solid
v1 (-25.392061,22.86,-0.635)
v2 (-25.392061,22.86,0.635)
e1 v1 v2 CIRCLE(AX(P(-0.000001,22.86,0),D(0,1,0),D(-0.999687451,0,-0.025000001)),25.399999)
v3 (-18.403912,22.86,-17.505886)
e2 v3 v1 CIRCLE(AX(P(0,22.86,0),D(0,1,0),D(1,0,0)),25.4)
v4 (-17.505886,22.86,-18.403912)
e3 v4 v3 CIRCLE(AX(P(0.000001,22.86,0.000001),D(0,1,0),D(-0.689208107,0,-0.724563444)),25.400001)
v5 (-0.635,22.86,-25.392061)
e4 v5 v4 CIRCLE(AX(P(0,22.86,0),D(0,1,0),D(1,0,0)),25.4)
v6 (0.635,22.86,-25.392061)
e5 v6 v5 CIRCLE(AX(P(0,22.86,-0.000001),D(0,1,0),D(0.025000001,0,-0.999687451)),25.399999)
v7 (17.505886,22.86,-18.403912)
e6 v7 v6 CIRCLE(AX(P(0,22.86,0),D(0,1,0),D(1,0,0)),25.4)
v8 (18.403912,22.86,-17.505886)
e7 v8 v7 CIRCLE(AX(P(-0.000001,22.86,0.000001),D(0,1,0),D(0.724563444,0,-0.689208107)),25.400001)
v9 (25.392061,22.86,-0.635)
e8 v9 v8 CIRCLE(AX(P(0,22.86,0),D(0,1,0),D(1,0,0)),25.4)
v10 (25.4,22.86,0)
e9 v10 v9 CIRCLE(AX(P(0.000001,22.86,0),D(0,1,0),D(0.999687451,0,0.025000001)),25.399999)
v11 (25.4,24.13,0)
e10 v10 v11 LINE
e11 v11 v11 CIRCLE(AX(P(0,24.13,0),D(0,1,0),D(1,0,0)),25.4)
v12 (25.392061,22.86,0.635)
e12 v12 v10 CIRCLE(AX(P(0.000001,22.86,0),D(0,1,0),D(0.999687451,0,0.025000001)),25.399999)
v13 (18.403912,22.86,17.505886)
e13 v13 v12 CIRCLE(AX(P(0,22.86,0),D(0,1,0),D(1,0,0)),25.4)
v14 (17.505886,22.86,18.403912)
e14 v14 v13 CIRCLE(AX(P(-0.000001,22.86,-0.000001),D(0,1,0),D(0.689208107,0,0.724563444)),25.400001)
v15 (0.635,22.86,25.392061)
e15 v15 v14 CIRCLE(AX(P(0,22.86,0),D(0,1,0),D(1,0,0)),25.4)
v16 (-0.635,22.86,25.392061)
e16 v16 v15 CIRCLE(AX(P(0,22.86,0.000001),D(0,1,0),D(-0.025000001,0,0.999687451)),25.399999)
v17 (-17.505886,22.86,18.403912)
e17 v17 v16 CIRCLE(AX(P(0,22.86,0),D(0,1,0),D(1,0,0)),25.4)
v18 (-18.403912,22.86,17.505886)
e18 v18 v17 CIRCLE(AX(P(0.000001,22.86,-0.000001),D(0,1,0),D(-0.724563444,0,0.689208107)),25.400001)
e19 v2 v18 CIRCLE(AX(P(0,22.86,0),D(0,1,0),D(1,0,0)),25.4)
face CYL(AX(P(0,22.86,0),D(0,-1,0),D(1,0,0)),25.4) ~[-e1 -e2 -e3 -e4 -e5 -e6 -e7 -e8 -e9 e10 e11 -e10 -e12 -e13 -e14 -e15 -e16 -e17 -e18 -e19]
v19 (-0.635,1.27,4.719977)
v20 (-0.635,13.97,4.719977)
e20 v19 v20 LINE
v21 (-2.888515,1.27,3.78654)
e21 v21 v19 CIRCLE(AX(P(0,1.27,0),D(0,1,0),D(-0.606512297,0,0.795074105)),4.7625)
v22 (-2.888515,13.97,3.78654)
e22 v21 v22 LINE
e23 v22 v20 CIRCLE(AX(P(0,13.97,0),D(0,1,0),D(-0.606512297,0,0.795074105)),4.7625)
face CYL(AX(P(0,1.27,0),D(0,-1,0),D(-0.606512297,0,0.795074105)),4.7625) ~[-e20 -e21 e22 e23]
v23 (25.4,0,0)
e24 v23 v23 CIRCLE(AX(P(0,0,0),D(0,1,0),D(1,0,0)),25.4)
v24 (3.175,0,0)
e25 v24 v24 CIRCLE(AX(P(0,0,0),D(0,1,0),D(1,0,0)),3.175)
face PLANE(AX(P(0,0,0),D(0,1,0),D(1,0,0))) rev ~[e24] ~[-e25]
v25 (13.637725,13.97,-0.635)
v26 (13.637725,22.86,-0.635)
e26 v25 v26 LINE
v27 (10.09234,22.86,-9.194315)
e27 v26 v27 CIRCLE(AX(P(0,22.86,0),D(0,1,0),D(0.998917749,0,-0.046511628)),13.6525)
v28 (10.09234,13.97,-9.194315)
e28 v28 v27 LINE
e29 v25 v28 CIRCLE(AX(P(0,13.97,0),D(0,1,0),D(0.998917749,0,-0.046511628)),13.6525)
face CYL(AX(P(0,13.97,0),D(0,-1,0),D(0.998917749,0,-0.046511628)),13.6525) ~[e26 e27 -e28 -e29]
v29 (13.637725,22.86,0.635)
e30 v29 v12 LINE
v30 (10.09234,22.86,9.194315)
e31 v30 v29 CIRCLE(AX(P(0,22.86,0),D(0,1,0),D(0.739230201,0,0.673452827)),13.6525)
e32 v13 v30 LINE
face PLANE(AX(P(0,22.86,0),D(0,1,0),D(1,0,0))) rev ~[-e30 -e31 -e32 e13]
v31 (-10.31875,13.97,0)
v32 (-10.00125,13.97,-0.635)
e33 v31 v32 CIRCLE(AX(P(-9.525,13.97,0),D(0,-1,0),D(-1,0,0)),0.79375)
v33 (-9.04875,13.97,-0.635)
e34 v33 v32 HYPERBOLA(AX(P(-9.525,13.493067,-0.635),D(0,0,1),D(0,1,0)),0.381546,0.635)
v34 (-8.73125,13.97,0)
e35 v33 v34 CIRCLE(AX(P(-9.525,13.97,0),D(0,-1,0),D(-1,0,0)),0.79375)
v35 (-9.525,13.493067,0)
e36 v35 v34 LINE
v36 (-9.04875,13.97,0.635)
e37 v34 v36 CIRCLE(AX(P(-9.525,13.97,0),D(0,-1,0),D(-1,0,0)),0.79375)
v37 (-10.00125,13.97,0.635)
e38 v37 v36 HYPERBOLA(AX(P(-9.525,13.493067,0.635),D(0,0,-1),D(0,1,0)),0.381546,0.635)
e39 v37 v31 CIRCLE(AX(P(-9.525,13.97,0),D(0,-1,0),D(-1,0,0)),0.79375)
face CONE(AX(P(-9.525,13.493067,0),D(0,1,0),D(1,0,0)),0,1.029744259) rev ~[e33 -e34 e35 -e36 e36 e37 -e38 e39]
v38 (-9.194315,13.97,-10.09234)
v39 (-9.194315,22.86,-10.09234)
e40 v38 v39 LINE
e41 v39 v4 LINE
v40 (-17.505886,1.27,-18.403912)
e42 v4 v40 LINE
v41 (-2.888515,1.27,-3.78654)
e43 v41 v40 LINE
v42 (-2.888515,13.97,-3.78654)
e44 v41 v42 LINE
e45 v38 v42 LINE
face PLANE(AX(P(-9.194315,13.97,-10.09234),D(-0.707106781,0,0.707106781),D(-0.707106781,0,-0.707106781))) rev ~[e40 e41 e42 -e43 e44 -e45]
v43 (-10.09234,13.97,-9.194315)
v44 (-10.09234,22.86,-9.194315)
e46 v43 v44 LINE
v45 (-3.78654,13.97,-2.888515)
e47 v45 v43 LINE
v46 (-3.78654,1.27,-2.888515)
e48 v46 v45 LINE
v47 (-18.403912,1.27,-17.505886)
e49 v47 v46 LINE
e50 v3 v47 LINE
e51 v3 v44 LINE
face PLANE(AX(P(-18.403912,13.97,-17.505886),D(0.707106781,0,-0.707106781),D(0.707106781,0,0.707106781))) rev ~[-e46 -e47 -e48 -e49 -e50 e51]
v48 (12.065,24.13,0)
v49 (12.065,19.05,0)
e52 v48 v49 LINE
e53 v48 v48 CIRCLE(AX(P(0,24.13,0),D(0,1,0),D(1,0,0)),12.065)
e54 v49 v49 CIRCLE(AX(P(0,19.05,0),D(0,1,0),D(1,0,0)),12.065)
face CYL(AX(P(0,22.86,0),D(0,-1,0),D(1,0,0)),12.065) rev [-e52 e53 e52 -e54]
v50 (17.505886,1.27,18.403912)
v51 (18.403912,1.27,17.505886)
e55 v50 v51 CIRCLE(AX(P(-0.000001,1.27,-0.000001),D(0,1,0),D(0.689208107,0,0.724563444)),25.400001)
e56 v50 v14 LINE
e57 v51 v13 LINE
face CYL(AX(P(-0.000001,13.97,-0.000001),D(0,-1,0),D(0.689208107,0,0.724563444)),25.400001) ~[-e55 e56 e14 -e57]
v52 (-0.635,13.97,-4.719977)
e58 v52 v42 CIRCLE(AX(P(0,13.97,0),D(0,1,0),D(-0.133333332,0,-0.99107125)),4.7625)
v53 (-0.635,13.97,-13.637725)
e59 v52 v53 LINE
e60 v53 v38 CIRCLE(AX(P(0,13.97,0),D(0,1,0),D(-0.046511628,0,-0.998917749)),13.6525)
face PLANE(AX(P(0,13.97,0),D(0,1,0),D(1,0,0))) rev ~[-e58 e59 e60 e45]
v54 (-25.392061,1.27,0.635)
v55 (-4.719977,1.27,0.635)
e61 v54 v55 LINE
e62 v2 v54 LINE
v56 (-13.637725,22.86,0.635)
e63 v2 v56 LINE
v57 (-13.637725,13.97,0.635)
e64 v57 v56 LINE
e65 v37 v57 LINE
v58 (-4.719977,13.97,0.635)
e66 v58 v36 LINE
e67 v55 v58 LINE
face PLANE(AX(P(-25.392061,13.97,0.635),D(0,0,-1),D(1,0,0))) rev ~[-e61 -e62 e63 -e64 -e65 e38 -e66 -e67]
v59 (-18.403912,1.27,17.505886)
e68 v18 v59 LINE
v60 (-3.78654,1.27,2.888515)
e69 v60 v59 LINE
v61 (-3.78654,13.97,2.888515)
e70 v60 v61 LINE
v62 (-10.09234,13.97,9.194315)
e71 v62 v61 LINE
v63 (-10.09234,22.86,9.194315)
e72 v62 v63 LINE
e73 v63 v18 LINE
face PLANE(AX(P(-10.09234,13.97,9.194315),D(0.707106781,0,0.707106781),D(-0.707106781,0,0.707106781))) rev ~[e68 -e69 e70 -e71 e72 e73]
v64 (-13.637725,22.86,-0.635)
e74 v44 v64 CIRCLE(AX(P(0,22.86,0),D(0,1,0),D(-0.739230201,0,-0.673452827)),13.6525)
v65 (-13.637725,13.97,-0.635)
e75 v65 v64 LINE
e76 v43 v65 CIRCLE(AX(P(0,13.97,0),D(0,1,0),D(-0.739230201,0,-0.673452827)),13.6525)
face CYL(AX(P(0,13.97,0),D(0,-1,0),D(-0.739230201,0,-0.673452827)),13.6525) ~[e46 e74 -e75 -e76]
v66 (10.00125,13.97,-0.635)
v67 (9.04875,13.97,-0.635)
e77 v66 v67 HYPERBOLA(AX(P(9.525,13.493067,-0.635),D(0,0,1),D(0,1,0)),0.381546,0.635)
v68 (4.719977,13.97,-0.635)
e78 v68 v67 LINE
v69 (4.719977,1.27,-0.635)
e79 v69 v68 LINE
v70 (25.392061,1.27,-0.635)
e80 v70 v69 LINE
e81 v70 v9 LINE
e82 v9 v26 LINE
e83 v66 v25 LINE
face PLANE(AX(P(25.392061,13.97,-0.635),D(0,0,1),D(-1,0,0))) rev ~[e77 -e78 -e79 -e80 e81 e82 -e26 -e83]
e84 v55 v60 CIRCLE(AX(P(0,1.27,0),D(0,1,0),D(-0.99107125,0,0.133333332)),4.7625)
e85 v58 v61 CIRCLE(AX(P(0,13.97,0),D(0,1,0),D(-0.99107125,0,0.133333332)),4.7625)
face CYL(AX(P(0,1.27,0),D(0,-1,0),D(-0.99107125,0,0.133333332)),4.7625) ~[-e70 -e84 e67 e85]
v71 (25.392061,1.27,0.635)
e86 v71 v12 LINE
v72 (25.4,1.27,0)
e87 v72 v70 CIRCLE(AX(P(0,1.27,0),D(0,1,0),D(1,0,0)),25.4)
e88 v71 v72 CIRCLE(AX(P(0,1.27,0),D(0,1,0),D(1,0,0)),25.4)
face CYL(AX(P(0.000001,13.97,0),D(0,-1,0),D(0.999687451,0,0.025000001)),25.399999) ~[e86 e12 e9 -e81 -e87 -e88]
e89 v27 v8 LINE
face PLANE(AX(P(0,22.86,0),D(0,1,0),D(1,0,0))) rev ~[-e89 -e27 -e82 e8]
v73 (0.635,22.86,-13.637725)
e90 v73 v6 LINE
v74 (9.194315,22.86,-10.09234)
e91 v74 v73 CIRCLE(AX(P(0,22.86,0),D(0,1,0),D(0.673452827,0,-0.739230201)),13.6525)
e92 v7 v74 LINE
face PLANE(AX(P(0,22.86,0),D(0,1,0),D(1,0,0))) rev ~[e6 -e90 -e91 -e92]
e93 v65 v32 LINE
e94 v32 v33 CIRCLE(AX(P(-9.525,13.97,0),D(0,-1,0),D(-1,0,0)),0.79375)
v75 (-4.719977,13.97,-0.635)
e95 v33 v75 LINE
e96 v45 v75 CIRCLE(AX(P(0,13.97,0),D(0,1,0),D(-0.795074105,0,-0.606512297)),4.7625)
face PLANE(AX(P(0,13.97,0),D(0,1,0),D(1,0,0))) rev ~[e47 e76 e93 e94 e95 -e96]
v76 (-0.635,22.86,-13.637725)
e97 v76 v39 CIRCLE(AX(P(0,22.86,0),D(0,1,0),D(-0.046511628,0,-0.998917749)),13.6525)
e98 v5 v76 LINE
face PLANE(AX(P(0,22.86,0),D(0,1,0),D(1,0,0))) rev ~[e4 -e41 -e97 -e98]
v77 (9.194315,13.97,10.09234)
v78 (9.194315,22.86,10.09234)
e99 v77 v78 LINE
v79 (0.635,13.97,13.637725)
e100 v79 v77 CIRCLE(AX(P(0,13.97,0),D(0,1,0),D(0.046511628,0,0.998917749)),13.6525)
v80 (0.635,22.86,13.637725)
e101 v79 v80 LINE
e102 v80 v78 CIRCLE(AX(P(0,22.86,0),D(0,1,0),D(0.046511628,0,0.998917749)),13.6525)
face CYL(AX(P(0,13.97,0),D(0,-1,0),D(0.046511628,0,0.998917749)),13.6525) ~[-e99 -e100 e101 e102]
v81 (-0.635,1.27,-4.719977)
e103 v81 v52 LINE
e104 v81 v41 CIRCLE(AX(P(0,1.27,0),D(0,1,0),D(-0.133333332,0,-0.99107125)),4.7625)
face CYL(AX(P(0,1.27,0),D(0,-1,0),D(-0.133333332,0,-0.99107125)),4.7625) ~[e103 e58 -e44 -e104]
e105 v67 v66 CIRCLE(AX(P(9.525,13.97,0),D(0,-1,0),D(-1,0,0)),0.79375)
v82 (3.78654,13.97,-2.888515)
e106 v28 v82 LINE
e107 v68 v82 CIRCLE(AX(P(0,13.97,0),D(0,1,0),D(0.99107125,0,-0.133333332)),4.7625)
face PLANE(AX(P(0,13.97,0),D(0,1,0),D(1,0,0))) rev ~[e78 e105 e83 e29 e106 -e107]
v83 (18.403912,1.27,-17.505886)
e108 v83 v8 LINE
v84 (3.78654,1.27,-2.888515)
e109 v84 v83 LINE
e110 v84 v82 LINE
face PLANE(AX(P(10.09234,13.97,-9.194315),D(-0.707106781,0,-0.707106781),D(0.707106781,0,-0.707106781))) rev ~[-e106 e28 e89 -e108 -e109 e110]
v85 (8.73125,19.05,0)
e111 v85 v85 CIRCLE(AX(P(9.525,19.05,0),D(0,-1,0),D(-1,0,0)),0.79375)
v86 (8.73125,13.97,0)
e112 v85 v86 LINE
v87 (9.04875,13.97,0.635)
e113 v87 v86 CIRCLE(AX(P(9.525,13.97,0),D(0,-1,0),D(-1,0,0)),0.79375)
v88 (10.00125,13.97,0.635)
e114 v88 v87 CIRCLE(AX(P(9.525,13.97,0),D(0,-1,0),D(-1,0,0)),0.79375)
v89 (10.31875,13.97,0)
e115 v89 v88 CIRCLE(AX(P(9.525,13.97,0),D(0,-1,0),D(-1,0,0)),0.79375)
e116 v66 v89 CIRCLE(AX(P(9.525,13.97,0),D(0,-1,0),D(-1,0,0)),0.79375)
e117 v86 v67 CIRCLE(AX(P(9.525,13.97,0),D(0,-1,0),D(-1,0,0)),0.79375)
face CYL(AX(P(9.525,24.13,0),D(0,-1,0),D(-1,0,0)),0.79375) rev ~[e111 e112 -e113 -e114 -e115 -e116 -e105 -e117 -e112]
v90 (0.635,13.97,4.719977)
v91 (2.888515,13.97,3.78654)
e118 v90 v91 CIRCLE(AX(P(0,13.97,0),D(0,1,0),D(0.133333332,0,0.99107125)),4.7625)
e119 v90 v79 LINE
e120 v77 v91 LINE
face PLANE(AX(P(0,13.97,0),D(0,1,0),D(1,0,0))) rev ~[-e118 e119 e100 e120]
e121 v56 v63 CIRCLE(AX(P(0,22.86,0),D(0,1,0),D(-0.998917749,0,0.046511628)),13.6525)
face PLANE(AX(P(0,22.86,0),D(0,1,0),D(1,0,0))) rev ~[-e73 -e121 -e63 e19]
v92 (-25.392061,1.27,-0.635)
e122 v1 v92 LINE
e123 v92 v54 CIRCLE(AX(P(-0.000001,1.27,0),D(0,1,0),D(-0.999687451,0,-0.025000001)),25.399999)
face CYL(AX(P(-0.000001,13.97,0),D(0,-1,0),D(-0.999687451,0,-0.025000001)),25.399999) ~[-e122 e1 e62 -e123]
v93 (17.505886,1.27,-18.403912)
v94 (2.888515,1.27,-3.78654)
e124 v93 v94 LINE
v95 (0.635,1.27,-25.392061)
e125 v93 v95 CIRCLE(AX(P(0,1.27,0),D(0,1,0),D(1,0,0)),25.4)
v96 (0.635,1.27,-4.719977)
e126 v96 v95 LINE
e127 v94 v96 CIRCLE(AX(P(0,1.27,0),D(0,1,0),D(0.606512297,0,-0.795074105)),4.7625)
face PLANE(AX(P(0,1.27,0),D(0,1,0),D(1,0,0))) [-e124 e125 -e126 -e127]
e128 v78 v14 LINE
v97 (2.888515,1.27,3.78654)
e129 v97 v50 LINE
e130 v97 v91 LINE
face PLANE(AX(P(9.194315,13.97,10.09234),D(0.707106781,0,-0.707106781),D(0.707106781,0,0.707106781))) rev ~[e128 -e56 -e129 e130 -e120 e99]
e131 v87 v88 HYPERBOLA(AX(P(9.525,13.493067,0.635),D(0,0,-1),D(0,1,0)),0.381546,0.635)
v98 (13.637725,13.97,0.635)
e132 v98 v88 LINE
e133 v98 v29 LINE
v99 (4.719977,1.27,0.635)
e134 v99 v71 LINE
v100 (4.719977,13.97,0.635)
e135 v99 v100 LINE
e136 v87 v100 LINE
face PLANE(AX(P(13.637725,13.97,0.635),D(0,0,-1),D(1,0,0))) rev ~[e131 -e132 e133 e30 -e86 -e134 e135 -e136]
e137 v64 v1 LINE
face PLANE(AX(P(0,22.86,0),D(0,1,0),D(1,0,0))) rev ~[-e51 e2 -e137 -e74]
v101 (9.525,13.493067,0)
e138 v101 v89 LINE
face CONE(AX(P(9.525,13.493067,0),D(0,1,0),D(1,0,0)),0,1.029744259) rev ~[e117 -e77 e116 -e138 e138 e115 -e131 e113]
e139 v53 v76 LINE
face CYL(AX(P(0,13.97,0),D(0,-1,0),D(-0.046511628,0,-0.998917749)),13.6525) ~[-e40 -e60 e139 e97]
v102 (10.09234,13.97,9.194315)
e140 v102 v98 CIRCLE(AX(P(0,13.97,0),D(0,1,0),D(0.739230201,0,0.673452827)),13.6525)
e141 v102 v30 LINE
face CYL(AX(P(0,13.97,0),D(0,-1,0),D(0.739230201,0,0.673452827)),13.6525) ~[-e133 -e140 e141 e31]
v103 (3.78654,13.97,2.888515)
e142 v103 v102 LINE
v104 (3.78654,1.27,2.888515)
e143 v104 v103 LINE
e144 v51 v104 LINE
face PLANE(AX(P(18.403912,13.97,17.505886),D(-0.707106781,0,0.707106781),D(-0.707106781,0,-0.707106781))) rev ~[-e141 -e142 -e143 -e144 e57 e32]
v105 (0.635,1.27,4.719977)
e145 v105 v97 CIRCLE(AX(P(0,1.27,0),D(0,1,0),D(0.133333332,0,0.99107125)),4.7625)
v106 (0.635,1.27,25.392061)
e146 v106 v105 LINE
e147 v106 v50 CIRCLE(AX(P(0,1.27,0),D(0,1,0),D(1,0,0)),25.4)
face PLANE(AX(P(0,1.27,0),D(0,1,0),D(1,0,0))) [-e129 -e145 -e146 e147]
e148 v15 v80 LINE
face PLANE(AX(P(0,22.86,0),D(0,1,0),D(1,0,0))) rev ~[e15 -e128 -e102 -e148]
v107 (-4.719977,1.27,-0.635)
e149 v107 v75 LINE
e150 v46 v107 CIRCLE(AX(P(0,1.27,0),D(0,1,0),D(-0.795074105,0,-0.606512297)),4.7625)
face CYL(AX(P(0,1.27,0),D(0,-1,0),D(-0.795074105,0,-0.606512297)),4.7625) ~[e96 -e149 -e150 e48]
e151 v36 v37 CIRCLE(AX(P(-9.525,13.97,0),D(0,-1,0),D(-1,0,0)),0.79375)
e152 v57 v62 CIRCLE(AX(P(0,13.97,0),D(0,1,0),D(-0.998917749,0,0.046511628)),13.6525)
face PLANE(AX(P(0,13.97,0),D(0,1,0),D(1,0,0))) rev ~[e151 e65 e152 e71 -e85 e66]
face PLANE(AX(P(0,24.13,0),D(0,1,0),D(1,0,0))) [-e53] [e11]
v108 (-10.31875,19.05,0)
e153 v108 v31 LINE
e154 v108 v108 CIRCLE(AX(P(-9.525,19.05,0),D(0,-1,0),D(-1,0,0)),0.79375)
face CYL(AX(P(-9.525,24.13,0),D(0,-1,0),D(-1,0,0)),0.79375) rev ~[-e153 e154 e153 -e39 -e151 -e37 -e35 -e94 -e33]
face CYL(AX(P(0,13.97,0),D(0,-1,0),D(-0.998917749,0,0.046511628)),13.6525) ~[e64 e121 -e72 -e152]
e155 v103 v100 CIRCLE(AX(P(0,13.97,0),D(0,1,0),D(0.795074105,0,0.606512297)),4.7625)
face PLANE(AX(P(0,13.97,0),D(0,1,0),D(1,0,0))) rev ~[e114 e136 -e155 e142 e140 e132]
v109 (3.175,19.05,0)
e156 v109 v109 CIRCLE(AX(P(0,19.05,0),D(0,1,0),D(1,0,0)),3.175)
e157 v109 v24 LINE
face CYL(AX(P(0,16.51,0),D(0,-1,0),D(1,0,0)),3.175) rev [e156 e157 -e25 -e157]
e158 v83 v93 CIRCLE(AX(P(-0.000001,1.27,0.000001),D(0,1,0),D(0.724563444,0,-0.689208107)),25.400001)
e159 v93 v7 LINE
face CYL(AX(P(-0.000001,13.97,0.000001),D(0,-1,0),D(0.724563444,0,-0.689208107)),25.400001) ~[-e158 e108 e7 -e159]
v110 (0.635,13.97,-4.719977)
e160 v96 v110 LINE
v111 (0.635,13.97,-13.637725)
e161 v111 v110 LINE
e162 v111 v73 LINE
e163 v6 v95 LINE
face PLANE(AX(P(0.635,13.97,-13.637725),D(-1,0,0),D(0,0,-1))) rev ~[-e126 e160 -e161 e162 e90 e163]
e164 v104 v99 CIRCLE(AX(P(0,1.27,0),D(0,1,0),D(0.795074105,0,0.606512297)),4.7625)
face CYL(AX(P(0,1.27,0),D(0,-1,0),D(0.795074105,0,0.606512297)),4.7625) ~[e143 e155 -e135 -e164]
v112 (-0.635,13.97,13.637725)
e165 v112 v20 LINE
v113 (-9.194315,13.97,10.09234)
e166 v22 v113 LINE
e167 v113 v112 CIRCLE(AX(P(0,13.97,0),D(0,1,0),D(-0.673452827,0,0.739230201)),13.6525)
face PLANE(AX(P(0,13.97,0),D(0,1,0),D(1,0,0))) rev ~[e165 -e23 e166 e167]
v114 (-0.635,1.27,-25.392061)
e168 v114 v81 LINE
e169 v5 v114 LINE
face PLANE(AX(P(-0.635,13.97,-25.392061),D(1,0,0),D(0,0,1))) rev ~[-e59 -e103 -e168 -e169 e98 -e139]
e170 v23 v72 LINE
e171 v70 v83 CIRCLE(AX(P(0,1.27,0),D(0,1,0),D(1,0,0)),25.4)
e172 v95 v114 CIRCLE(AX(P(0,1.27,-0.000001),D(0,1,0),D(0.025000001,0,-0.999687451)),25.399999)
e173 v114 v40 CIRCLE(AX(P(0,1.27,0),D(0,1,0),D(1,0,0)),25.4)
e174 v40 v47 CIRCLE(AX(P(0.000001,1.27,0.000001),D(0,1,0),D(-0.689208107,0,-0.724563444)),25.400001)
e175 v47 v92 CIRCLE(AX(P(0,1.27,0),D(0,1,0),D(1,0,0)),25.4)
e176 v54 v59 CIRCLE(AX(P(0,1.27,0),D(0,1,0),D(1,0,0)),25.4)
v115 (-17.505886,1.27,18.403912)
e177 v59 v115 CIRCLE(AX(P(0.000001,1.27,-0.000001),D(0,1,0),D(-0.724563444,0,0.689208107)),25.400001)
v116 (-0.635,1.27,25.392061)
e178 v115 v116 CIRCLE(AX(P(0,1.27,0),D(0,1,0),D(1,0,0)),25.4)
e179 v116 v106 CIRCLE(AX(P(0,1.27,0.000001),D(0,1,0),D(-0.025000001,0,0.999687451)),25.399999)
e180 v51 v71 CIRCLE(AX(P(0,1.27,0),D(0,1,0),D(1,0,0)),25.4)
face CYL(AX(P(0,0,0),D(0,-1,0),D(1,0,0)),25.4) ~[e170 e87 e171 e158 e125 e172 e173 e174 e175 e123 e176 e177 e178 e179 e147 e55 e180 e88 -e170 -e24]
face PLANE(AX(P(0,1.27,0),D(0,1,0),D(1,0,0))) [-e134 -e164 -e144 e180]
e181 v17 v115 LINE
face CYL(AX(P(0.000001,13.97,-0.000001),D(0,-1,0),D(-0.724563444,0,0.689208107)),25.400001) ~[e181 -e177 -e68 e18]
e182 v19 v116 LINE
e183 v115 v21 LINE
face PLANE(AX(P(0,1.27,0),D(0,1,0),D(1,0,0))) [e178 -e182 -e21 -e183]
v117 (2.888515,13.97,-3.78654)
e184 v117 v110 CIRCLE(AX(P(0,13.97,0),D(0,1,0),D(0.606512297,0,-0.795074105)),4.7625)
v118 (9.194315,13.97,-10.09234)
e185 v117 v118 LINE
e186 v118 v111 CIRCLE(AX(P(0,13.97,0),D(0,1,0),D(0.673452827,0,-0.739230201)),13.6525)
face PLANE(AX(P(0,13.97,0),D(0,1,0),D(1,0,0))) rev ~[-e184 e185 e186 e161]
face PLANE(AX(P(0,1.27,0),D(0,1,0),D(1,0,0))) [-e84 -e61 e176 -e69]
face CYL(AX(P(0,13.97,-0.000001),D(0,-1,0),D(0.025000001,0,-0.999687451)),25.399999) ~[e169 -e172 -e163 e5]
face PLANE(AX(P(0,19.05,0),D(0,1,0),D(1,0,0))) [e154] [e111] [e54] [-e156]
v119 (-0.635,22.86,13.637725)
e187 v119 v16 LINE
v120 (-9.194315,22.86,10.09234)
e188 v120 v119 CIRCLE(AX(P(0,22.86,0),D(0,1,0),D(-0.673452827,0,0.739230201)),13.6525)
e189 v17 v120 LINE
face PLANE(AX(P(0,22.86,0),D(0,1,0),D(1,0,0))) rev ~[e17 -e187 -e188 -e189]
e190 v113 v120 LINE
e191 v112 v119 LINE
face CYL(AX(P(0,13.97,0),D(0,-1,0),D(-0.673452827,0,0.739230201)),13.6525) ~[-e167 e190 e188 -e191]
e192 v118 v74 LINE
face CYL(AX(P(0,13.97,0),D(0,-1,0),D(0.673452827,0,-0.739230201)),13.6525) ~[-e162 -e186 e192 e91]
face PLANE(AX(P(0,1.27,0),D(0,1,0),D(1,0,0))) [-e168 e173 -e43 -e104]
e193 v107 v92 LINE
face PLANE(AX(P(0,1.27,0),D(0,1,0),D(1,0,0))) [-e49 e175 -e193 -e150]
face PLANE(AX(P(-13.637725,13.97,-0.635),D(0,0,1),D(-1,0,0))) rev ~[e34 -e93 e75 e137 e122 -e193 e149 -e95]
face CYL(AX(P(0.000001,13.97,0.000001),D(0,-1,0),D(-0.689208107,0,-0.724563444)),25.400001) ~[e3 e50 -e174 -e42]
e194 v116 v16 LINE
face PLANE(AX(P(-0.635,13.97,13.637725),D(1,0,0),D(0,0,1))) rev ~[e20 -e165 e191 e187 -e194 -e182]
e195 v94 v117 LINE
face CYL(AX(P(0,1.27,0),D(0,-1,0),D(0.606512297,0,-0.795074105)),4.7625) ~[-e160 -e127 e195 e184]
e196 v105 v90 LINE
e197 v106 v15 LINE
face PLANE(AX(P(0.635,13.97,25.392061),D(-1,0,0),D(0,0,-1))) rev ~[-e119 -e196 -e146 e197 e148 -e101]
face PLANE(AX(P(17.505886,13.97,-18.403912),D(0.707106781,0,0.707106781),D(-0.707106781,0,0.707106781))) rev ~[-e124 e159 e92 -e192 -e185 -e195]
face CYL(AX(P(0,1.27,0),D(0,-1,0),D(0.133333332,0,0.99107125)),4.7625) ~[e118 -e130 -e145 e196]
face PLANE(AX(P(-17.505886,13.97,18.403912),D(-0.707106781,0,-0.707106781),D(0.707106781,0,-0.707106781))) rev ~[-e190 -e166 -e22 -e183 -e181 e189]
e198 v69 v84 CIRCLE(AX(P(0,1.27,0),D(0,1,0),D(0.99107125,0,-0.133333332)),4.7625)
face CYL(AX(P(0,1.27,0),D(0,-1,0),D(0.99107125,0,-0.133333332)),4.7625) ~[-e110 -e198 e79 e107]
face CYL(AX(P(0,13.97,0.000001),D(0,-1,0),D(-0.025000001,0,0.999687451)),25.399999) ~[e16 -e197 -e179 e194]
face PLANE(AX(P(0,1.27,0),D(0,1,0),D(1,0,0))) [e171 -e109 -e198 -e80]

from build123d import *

# Parameters (mm, degrees)
SKETCH1_R                          = 25.4
SKETCH1_R_2                        = 3.175
BOSS_EXTRUDE1_DEPTH                = 1.27
SKETCH2_R                          = 3.175
BOSS_EXTRUDE4_DEPTH                = 12.7
SKETCH5_R                          = 12.065
SKETCH5_R_2                        = 3.175
BOSS_EXTRUDE6_DEPTH                = 2.54
SKETCH9_R                          = 12.065
SKETCH9_R_2                        = 3.175
BOSS_EXTRUDE11_DEPTH               = 2.54
SKETCH5_4_R                        = 12.065
BOSS_EXTRUDE7_DEPTH                = 8.89
SKETCH6_R                          = 25.4
SKETCH6_R_2                        = 12.065
BOSS_EXTRUDE8_DEPTH                = 1.27
F_1_16_0_0625_DIAMETER_HOLE1_D     = 1.5875
F_1_16_0_0625_DIAMETER_HOLE1_DEPTH = 5.08
F_1_16_0_0625_DIAMETER_HOLE1_TIP   = 0.476933116


with BuildPart() as part:
    # Sketch1 → Boss-Extrude1 (new body)
    with BuildSketch(Plane(origin=(0, 0, 0), x_dir=(1, 0, 0), z_dir=(0, 1, 0))):
        Circle(SKETCH1_R)
        Circle(SKETCH1_R_2, mode=Mode.SUBTRACT)
    extrude(amount=BOSS_EXTRUDE1_DEPTH)

    # Sketch2 → Boss-Extrude4 (add)
    with BuildSketch(Plane(origin=(0, 1.27, 0), x_dir=(1, 0, 0), z_dir=(0, 1, 0))):
        with BuildLine():
            ThreePointArc((0.635, 25.392061259), (0, 25.4), (-0.635, 25.392061259))
            Line((-0.635, 25.392061259), (-0.635, 4.719976827))
            ThreePointArc((-0.635, 4.719976827), (-1.822529847, 4.399976274), (-2.888514816, 3.786540428))
            Line((-2.888514816, 3.786540428), (-17.505885899, 18.403911511))
            ThreePointArc((-17.505885899, 18.403911511), (-17.960512242, 17.960512242), (-18.403911511, 17.505885899))
            Line((-18.403911511, 17.505885899), (-3.786540428, 2.888514816))
            ThreePointArc((-3.786540428, 2.888514816), (-4.399976274, 1.822529847), (-4.719976827, 0.635))
            Line((-4.719976827, 0.635), (-25.392061259, 0.635))
            ThreePointArc((-25.392061259, 0.635), (-25.4, 0), (-25.392061259, -0.635))
            Line((-25.392061259, -0.635), (-4.719976827, -0.635))
            ThreePointArc((-4.719976827, -0.635), (-4.399976274, -1.822529847), (-3.786540428, -2.888514816))
            Line((-3.786540428, -2.888514816), (-18.403911511, -17.505885899))
            ThreePointArc((-18.403911511, -17.505885899), (-17.960512242, -17.960512242), (-17.505885899, -18.403911511))
            Line((-17.505885899, -18.403911511), (-2.888514816, -3.786540428))
            ThreePointArc((-2.888514816, -3.786540428), (-1.822529847, -4.399976274), (-0.635, -4.719976827))
            Line((-0.635, -4.719976827), (-0.635, -25.392061259))
            ThreePointArc((-0.635, -25.392061259), (0, -25.4), (0.635, -25.392061259))
            Line((0.635, -25.392061259), (0.635, -4.719976827))
            ThreePointArc((0.635, -4.719976827), (1.822529847, -4.399976274), (2.888514816, -3.786540428))
            Line((2.888514816, -3.786540428), (17.505885899, -18.403911511))
            ThreePointArc((17.505885899, -18.403911511), (17.960512242, -17.960512242), (18.403911511, -17.505885899))
            Line((18.403911511, -17.505885899), (3.786540428, -2.888514816))
            ThreePointArc((3.786540428, -2.888514816), (4.399976274, -1.822529847), (4.719976827, -0.635))
            Line((4.719976827, -0.635), (25.392061259, -0.635))
            ThreePointArc((25.392061259, -0.635), (25.4, 0), (25.392061259, 0.635))
            Line((25.392061259, 0.635), (4.719976827, 0.635))
            ThreePointArc((4.719976827, 0.635), (4.399976274, 1.822529847), (3.786540428, 2.888514816))
            Line((3.786540428, 2.888514816), (18.403911511, 17.505885899))
            ThreePointArc((18.403911511, 17.505885899), (17.960512242, 17.960512242), (17.505885899, 18.403911511))
            Line((17.505885899, 18.403911511), (2.888514816, 3.786540428))
            ThreePointArc((2.888514816, 3.786540428), (1.822529847, 4.399976274), (0.635, 4.719976827))
            Line((0.635, 4.719976827), (0.635, 25.392061259))
        make_face()
        Circle(SKETCH2_R, mode=Mode.SUBTRACT)
    extrude(amount=BOSS_EXTRUDE4_DEPTH)

    # Sketch5 → Boss-Extrude6 (add)
    with BuildSketch(Plane(origin=(0, 13.97, 0), x_dir=(1, 0, 0), z_dir=(0, 1, 0))):
        Circle(SKETCH5_R)
        Circle(SKETCH5_R_2, mode=Mode.SUBTRACT)
    extrude(amount=BOSS_EXTRUDE6_DEPTH)

    # Sketch9 → Boss-Extrude11 (add)
    with BuildSketch(Plane(origin=(0, 16.51, 0), x_dir=(1, 0, 0), z_dir=(0, 1, 0))):
        Circle(SKETCH9_R)
        Circle(SKETCH9_R_2, mode=Mode.SUBTRACT)
    extrude(amount=BOSS_EXTRUDE11_DEPTH)

    # Sketch5<4> → Boss-Extrude7 (add)
    with BuildSketch(Plane(origin=(0, 13.97, 0), x_dir=(1, 0, 0), z_dir=(0, 1, 0))):
        with BuildLine():
            ThreePointArc((0.635, -13.637724563), (5.22458556, -12.613265318), (9.194314712, -10.092340324))
            Line((9.194314712, -10.092340324), (17.505885899, -18.403911511))
            ThreePointArc((17.505885899, -18.403911511), (17.960512242, -17.960512242), (18.403911511, -17.505885899))
            Line((18.403911511, -17.505885899), (10.092340324, -9.194314712))
            ThreePointArc((10.092340324, -9.194314712), (12.613265318, -5.22458556), (13.637724563, -0.635))
            Line((13.637724563, -0.635), (25.392061259, -0.635))
            ThreePointArc((25.392061259, -0.635), (25.4, 0), (25.392061259, 0.635))
            Line((25.392061259, 0.635), (13.637724563, 0.635))
            ThreePointArc((13.637724563, 0.635), (12.613265318, 5.22458556), (10.092340324, 9.194314712))
            Line((10.092340324, 9.194314712), (18.403911511, 17.505885899))
            ThreePointArc((18.403911511, 17.505885899), (17.960512242, 17.960512242), (17.505885899, 18.403911511))
            Line((17.505885899, 18.403911511), (9.194314712, 10.092340324))
            ThreePointArc((9.194314712, 10.092340324), (5.22458556, 12.613265318), (0.635, 13.637724563))
            Line((0.635, 13.637724563), (0.635, 25.392061259))
            ThreePointArc((0.635, 25.392061259), (0, 25.4), (-0.635, 25.392061259))
            Line((-0.635, 25.392061259), (-0.635, 13.637724563))
            ThreePointArc((-0.635, 13.637724563), (-5.22458556, 12.613265318), (-9.194314712, 10.092340324))
            Line((-9.194314712, 10.092340324), (-17.505885899, 18.403911511))
            ThreePointArc((-17.505885899, 18.403911511), (-17.960512242, 17.960512242), (-18.403911511, 17.505885899))
            Line((-18.403911511, 17.505885899), (-10.092340324, 9.194314712))
            ThreePointArc((-10.092340324, 9.194314712), (-12.613265318, 5.22458556), (-13.637724563, 0.635))
            Line((-13.637724563, 0.635), (-25.392061259, 0.635))
            ThreePointArc((-25.392061259, 0.635), (-25.4, 0), (-25.392061259, -0.635))
            Line((-25.392061259, -0.635), (-13.637724563, -0.635))
            ThreePointArc((-13.637724563, -0.635), (-12.613265318, -5.22458556), (-10.092340324, -9.194314712))
            Line((-10.092340324, -9.194314712), (-18.403911511, -17.505885899))
            ThreePointArc((-18.403911511, -17.505885899), (-17.960512242, -17.960512242), (-17.505885899, -18.403911511))
            Line((-17.505885899, -18.403911511), (-9.194314712, -10.092340324))
            ThreePointArc((-9.194314712, -10.092340324), (-5.22458556, -12.613265318), (-0.635, -13.637724563))
            Line((-0.635, -13.637724563), (-0.635, -25.392061259))
            ThreePointArc((-0.635, -25.392061259), (0, -25.4), (0.635, -25.392061259))
            Line((0.635, -25.392061259), (0.635, -13.637724563))
        make_face()
        Circle(SKETCH5_4_R, mode=Mode.SUBTRACT)
    extrude(amount=BOSS_EXTRUDE7_DEPTH)

    # Sketch6 → Boss-Extrude8 (add)
    with BuildSketch(Plane(origin=(0, 22.86, 0), x_dir=(1, 0, 0), z_dir=(0, 1, 0))):
        Circle(SKETCH6_R)
        Circle(SKETCH6_R_2, mode=Mode.SUBTRACT)
    extrude(amount=BOSS_EXTRUDE8_DEPTH)

    # 1/16 (0.0625) Diameter Hole1
    with Locations(Plane(origin=(0, 19.05, 0), x_dir=(1, 0, 0), z_dir=(0, 1, 0))):
        with Locations((-9.525, 0), (9.525, 0)):
            Hole(F_1_16_0_0625_DIAMETER_HOLE1_D / 2, depth=F_1_16_0_0625_DIAMETER_HOLE1_DEPTH)
            with Locations((0, 0, -(F_1_16_0_0625_DIAMETER_HOLE1_DEPTH + F_1_16_0_0625_DIAMETER_HOLE1_TIP / 2))):  # 118° drill point
                Cone(0, F_1_16_0_0625_DIAMETER_HOLE1_D / 2, F_1_16_0_0625_DIAMETER_HOLE1_TIP, mode=Mode.SUBTRACT)


solid = part.part
